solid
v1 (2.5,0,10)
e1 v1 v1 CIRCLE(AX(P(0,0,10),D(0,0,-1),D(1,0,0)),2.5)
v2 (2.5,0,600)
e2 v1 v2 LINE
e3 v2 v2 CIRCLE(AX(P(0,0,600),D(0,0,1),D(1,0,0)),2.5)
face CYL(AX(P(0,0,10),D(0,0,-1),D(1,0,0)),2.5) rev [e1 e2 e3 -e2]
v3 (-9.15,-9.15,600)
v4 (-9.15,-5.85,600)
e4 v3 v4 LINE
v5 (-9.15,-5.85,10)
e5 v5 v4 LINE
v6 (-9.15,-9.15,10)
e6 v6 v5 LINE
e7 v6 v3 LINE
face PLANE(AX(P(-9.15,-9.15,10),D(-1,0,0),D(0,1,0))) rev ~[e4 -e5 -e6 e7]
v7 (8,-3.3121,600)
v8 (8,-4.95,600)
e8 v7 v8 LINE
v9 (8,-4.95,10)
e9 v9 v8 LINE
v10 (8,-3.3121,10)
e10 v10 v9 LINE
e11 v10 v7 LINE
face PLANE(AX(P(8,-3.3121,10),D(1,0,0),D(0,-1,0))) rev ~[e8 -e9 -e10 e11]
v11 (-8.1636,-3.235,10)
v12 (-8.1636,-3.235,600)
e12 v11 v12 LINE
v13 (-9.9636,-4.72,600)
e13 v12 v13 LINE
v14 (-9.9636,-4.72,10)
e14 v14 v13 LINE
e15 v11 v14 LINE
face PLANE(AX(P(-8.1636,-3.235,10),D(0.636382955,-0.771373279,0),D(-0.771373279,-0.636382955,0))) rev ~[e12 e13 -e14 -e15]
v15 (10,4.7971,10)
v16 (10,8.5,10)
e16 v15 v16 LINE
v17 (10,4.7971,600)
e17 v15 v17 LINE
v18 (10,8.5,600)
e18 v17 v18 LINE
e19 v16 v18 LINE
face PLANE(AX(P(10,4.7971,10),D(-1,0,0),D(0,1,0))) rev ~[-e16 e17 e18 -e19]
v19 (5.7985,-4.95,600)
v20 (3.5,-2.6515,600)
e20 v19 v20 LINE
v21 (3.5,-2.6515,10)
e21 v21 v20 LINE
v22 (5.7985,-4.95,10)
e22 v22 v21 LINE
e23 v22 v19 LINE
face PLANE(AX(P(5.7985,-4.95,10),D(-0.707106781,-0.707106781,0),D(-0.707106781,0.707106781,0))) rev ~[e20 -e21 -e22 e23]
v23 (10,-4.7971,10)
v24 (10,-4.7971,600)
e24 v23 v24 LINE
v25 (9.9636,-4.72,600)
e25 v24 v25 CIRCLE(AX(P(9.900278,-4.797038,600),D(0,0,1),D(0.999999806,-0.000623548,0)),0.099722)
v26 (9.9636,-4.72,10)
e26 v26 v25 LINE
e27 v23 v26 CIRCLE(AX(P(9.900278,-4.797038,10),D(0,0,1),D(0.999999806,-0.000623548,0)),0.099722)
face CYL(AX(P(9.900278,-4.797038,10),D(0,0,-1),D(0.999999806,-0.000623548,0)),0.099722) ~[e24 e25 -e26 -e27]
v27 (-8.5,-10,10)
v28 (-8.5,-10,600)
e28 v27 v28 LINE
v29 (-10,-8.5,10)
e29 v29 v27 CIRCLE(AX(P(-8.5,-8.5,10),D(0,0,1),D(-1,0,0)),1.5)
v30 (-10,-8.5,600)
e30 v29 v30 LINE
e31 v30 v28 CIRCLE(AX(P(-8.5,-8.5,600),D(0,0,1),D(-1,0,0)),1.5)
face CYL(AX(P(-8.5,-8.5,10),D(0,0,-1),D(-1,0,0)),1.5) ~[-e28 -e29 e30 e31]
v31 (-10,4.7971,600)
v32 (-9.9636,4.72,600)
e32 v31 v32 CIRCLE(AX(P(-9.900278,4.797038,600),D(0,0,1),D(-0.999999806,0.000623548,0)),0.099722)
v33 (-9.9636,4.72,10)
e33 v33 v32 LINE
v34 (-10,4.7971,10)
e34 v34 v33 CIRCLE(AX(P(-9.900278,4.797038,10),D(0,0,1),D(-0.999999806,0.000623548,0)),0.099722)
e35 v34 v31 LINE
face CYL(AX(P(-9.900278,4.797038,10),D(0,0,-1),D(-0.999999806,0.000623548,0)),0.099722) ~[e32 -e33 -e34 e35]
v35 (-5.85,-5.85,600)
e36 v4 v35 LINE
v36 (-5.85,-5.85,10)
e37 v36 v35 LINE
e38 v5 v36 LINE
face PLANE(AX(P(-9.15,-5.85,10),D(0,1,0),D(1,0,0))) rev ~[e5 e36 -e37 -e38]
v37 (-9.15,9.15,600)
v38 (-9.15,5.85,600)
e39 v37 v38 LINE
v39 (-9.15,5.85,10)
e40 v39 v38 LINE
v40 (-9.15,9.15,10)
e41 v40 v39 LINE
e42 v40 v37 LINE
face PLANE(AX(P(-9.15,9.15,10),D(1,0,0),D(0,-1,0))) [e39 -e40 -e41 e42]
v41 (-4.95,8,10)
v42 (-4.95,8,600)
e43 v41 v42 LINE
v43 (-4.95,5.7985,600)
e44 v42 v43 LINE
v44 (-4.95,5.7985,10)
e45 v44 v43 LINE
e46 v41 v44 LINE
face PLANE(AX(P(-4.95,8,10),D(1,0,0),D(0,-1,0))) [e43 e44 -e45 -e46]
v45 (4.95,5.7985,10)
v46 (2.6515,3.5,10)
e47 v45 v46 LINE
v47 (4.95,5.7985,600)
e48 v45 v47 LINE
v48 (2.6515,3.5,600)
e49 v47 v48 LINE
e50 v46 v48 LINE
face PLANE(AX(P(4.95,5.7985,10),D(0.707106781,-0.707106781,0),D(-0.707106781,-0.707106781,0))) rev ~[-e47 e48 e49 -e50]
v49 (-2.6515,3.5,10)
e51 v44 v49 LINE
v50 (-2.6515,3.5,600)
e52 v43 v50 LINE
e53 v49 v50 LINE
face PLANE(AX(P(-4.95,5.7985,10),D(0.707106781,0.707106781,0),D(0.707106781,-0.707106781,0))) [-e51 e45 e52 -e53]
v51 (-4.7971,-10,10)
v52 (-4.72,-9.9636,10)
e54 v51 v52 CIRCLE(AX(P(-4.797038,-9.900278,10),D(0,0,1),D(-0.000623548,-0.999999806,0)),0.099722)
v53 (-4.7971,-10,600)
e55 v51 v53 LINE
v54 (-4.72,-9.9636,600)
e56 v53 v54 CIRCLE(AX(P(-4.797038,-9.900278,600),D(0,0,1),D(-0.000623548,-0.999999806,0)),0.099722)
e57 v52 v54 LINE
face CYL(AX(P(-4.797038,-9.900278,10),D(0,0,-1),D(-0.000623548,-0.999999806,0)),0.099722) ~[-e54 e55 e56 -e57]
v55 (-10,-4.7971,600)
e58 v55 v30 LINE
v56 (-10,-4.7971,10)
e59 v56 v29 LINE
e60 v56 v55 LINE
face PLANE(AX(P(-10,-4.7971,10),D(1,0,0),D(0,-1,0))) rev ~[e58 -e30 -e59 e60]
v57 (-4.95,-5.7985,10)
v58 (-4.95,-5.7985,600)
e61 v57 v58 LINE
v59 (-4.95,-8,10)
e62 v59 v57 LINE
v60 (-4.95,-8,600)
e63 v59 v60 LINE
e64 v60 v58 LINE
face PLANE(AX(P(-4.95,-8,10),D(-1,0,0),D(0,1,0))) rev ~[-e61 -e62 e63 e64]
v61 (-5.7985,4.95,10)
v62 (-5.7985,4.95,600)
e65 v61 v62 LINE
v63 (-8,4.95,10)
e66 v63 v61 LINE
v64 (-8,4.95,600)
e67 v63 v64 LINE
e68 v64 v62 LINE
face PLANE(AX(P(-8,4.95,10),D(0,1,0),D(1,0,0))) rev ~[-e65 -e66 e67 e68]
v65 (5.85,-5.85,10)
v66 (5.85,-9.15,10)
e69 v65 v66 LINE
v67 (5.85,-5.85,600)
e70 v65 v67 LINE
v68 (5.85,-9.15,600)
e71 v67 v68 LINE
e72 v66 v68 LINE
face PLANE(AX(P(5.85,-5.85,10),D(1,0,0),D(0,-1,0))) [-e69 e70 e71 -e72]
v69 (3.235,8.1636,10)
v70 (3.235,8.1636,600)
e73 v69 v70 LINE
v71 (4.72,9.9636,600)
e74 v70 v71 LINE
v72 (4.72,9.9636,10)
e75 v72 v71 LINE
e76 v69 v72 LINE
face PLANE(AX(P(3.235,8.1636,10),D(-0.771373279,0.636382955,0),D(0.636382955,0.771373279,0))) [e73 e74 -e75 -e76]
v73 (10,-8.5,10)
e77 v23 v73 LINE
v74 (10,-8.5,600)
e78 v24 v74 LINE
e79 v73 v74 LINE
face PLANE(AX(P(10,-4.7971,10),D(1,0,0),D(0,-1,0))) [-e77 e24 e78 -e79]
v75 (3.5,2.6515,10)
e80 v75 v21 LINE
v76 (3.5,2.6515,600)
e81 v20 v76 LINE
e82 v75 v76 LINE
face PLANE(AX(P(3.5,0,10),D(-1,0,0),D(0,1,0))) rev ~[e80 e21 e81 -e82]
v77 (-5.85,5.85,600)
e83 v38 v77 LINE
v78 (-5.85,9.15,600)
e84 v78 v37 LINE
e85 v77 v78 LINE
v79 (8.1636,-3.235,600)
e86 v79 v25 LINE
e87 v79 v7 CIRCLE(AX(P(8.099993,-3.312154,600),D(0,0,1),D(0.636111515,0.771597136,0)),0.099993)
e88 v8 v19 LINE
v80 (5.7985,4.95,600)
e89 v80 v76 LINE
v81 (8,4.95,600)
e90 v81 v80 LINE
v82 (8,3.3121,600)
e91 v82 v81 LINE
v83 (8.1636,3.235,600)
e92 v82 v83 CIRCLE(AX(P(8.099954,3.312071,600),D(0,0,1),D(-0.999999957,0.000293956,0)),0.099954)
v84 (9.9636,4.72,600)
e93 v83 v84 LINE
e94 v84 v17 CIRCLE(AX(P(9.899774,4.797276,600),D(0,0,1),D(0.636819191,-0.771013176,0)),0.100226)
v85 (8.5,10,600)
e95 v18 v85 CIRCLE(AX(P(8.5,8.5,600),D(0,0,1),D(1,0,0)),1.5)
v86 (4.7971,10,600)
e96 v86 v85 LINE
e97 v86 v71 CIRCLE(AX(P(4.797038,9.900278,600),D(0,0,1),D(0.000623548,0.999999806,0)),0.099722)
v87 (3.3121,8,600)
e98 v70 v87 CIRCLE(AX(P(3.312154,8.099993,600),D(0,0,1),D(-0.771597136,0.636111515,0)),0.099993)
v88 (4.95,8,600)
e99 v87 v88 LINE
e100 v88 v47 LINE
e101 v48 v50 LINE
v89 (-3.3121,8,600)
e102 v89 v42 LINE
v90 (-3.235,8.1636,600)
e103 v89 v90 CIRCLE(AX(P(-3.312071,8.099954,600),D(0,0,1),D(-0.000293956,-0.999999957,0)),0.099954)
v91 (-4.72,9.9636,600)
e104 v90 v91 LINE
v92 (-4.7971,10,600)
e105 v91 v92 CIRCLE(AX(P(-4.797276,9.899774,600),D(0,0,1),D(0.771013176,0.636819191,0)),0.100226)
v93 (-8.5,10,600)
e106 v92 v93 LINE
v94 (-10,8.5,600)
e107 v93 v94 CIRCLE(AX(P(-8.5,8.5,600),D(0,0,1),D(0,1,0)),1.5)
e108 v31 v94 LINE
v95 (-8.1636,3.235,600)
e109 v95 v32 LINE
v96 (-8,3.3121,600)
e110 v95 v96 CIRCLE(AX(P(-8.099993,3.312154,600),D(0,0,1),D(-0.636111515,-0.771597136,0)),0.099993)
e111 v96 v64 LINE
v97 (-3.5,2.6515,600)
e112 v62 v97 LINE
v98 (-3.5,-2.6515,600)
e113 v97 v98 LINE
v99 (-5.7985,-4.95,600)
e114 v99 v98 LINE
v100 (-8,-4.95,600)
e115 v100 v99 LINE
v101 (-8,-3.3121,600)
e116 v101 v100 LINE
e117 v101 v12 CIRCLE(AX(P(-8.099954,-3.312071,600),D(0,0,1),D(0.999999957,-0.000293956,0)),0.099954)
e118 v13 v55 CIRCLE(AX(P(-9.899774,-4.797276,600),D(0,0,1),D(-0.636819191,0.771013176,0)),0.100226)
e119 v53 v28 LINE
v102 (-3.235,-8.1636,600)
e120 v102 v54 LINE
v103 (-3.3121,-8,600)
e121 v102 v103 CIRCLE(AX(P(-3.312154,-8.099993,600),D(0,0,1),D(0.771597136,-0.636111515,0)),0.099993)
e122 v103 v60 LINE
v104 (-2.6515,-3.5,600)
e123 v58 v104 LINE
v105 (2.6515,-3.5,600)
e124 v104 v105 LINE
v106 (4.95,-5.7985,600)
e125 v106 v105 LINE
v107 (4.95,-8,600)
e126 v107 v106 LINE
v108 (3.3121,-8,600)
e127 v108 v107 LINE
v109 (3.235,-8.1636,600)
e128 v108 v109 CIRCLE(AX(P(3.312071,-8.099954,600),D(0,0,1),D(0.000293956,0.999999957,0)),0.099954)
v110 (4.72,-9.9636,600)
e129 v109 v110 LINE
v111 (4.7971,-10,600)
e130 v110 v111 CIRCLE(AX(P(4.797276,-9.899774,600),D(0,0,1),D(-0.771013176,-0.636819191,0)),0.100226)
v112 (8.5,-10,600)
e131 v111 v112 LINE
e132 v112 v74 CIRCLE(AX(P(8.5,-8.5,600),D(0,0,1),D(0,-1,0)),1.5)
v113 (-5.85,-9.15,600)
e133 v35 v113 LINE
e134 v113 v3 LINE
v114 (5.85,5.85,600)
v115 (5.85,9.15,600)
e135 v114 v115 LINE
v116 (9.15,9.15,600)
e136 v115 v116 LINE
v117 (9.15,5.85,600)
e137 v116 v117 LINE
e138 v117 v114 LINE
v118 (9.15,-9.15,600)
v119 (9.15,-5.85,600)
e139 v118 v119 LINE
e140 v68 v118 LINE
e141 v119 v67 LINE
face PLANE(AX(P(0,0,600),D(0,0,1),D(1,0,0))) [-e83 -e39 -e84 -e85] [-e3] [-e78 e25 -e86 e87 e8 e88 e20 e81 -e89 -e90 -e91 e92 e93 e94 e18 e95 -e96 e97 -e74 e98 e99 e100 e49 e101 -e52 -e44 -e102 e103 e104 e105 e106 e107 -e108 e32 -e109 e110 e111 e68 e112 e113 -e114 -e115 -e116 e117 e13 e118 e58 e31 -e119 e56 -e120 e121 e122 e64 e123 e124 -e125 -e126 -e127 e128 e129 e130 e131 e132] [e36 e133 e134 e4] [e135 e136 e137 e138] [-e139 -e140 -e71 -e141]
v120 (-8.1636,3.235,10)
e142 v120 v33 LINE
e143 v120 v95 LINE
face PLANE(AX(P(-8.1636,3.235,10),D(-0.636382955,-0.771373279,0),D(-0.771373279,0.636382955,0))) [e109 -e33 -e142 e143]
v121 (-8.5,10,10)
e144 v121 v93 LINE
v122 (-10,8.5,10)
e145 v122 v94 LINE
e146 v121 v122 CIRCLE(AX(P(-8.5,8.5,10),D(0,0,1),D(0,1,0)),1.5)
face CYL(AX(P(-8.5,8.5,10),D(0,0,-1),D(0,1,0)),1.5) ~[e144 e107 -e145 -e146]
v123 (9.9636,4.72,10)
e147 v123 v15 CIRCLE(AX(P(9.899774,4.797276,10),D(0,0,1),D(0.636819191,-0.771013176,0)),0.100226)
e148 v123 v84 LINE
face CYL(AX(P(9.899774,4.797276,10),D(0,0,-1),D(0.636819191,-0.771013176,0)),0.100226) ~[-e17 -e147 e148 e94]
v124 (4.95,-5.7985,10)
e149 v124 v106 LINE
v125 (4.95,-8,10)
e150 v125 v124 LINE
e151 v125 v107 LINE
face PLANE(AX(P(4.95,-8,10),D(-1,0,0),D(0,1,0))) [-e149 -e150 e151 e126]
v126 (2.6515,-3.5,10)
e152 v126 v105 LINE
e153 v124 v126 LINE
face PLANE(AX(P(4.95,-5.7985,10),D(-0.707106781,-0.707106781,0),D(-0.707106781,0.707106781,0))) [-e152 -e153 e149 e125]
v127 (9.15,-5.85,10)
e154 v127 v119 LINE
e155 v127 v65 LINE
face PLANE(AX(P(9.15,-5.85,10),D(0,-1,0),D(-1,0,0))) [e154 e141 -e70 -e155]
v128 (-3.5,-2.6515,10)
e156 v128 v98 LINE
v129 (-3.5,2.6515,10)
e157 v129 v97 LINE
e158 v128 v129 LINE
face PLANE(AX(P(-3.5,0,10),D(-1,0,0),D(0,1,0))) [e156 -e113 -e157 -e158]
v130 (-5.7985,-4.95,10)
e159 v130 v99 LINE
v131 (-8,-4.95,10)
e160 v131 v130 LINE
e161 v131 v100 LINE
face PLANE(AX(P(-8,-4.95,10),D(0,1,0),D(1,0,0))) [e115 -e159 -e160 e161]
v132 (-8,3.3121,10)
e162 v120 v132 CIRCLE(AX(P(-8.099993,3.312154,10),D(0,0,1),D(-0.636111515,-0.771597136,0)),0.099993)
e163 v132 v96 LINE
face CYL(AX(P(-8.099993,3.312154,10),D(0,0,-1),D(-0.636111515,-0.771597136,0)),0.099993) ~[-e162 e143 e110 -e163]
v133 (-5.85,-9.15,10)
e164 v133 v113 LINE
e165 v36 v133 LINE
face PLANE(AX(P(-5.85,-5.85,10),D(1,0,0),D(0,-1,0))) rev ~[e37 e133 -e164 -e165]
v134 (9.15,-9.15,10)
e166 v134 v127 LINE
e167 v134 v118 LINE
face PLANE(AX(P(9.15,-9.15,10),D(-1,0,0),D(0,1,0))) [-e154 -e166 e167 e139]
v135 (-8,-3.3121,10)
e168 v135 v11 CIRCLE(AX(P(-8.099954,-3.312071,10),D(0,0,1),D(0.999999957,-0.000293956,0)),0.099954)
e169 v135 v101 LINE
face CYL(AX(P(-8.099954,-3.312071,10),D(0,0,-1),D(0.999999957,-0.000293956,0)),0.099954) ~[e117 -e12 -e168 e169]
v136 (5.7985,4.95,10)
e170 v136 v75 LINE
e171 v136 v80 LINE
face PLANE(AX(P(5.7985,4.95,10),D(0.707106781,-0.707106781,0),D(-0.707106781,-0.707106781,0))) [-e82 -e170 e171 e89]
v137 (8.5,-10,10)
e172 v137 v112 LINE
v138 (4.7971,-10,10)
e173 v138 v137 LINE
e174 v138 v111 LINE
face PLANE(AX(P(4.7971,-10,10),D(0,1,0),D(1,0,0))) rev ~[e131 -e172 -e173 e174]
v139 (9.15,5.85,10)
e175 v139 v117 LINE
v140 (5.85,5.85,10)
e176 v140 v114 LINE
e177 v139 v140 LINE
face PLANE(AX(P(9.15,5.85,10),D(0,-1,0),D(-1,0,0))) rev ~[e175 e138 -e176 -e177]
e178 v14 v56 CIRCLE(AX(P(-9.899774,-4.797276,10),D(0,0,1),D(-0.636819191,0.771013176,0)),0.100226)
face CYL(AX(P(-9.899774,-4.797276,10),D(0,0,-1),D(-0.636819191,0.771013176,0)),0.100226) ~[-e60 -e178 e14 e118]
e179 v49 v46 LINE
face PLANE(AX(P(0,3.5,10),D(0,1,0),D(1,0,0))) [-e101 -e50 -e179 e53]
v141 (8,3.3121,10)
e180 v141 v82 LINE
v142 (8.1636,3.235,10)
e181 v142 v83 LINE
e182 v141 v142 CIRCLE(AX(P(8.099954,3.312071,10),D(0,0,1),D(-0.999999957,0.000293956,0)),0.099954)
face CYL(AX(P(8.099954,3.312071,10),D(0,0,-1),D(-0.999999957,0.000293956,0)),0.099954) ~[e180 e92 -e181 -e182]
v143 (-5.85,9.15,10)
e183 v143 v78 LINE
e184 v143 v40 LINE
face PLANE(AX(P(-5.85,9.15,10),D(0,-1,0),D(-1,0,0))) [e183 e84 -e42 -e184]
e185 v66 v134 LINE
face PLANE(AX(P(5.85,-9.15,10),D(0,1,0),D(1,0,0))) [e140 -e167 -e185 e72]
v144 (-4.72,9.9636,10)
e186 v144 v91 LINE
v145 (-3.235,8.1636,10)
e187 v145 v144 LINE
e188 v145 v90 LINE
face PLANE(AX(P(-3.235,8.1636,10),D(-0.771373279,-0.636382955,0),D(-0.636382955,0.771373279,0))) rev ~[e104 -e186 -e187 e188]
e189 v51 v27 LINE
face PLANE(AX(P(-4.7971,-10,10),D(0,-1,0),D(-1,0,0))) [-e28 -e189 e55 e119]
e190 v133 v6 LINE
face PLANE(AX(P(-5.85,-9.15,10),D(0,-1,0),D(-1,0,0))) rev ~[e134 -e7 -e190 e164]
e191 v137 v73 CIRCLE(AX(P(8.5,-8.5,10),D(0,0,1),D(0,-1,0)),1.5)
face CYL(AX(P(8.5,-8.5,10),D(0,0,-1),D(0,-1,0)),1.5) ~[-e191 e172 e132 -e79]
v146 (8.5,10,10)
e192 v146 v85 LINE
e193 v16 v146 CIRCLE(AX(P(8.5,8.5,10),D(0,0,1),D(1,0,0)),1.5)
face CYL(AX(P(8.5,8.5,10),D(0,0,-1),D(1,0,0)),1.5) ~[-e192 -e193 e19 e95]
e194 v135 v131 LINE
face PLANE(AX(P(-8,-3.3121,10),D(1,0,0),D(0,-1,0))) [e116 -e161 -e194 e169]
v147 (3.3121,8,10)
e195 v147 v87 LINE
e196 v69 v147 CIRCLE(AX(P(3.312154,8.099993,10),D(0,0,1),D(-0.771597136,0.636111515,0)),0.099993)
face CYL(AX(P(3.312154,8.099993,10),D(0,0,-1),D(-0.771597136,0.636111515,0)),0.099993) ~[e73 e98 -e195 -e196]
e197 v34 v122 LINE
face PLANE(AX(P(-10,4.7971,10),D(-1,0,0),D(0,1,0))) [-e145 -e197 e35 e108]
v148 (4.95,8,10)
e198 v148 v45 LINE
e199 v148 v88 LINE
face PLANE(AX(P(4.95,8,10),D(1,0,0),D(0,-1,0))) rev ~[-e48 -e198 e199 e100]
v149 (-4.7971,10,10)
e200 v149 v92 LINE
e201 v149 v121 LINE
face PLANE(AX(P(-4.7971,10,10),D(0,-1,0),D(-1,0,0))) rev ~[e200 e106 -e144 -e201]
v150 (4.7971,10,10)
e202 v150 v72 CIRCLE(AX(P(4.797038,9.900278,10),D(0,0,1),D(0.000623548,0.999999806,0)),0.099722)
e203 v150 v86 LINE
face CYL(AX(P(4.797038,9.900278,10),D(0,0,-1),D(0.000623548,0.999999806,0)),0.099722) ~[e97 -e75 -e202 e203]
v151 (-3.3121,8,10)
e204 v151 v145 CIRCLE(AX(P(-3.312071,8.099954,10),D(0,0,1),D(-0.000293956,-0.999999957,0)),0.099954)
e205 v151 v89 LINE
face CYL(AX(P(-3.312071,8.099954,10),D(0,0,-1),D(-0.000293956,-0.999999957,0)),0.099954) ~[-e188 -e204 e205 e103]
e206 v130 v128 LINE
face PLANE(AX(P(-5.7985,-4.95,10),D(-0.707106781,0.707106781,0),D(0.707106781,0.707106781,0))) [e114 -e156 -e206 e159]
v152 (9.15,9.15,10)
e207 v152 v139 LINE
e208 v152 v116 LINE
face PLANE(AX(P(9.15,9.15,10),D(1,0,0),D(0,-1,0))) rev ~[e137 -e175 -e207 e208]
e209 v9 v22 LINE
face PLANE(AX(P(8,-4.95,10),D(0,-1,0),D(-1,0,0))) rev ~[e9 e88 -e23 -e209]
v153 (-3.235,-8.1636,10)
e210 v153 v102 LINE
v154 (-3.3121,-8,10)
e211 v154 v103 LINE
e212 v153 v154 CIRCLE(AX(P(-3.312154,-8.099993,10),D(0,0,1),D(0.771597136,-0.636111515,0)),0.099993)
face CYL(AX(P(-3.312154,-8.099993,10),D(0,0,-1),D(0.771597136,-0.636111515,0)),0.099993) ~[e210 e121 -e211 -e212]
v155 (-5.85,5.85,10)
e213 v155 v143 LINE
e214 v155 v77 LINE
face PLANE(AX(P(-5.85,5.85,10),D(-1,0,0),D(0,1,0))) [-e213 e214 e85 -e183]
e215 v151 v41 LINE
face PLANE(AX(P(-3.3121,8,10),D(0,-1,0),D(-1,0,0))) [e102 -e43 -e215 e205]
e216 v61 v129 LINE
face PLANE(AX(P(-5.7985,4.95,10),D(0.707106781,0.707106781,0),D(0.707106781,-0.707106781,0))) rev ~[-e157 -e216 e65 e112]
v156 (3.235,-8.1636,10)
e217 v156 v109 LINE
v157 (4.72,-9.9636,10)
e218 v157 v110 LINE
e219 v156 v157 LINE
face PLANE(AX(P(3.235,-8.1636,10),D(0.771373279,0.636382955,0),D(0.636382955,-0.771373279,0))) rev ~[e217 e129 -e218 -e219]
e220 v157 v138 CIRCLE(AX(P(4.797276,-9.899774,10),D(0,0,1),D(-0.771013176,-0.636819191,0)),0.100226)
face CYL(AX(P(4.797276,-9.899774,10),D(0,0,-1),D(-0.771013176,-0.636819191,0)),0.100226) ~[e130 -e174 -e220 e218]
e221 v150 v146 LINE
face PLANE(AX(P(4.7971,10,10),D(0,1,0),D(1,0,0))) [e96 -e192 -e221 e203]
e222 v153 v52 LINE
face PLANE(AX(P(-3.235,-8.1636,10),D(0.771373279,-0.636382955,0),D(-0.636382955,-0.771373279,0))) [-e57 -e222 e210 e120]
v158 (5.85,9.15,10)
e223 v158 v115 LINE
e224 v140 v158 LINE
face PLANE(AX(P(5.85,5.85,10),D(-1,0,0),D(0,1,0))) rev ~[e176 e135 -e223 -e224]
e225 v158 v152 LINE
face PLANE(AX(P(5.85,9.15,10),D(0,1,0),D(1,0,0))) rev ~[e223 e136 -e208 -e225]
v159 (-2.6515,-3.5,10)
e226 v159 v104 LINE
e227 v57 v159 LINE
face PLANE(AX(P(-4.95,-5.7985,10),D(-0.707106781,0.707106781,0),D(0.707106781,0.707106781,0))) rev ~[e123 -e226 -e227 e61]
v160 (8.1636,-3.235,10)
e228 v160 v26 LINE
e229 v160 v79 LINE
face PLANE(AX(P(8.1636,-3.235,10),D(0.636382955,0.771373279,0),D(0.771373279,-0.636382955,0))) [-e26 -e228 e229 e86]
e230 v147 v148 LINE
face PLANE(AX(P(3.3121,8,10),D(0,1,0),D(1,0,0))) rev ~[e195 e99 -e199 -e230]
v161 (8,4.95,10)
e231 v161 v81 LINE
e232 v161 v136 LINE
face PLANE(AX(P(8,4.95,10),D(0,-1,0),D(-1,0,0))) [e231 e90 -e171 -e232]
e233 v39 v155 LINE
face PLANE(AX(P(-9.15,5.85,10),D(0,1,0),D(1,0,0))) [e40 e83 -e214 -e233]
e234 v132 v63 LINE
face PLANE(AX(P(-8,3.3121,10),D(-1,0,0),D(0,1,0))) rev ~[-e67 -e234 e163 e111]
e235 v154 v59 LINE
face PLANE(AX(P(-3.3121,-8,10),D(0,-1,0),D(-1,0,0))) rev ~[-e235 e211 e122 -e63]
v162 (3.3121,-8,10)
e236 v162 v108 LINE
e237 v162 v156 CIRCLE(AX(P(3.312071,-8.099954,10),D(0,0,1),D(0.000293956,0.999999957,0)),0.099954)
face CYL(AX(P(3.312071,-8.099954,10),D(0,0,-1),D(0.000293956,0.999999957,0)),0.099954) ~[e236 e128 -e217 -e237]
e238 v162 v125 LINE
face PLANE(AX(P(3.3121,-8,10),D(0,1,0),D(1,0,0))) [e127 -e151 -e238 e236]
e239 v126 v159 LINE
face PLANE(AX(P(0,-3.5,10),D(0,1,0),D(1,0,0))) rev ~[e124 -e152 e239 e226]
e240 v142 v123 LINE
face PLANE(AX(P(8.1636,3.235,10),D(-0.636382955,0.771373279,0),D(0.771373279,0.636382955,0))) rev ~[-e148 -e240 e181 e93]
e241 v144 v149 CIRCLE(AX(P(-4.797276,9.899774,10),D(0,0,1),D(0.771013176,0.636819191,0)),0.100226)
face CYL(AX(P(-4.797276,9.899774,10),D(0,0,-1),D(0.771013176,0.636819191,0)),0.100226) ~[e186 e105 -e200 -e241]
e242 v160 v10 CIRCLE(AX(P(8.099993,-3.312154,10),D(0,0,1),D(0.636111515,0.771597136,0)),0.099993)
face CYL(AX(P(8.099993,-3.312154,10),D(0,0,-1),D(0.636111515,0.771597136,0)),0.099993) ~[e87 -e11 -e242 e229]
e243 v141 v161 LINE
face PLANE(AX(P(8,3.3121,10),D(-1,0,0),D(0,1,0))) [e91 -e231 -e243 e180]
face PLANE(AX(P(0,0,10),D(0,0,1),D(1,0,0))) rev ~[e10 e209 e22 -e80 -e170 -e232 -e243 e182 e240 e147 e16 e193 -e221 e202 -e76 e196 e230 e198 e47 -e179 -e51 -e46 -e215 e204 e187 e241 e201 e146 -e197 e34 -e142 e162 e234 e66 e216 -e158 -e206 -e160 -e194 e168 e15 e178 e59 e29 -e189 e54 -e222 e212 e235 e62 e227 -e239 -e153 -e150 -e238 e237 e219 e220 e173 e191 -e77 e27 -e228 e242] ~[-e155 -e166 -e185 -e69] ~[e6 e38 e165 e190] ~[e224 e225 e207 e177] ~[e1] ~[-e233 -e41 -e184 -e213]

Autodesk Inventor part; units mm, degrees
ref_plane "Начальная плоскость" through (0, 0, 10) normal (0, 0, 1) x (1, 0, 0)
ref_plane "Конечная плоскость" through (0, 0, 600) normal (0, 0, 1) x (1, 0, 0)
sketch "Эскиз" plane through (0, 0, 0) normal (0, 0, 1) x (1, 0, 0)
  line L0 (-14.4349, 0) -> (14.4349, 0) projected
  line L1 (0, -14) -> (0, 14) projected
  line L2 (0, 0) -> (7.5, 7.5) construction
  circle A0 centre (7.5, 7.5) radius 1.65 construction
  line L3 (5.85, 9.15) -> (9.15, 9.15)
  line L4 (9.15, 9.15) -> (9.15, 5.85)
  line L5 (9.15, 5.85) -> (5.85, 5.85)
  line L6 (5.85, 5.85) -> (5.85, 9.15)
  line L7 (3.235, 8.1636) -> (4.72, 9.9636)
  line L8 (4.7971, 10) -> (8.5, 10)
  line L9 (3.3121, 8) -> (4.95, 8)
  line L10 (4.95, 8) -> (4.95, 5.7985)
  line L11 (4.95, 5.7985) -> (2.6515, 3.5)
  line L12 (0, 3.5) -> (2.6515, 3.5)
  circle A1 centre (0, 0) radius 2.5
  line L13 (8.1636, 3.235) -> (9.9636, 4.72)
  line L14 (10, 4.7971) -> (10, 8.5)
  line L15 (8, 3.3121) -> (8, 4.95)
  line L16 (8, 4.95) -> (5.7985, 4.95)
  line L17 (5.7985, 4.95) -> (3.5, 2.6515)
  line L18 (3.5, 0) -> (3.5, 2.6515)
  arc A2 (10, 8.5) -> (8.5, 10) centre (8.5, 8.5) ccw
  line L19 (0, 0) -> (-7.5, 7.5) construction
  circle A3 centre (-7.5, 7.5) radius 1.65 construction
  line L20 (-5.85, 9.15) -> (-9.15, 9.15)
  line L21 (-9.15, 9.15) -> (-9.15, 5.85)
  line L22 (-9.15, 5.85) -> (-5.85, 5.85)
  line L23 (-5.85, 5.85) -> (-5.85, 9.15)
  line L24 (-3.235, 8.1636) -> (-4.72, 9.9636)
  line L25 (-4.7971, 10) -> (-8.5, 10)
  line L26 (-3.3121, 8) -> (-4.95, 8)
  line L27 (-4.95, 8) -> (-4.95, 5.7985)
  line L28 (-4.95, 5.7985) -> (-2.6515, 3.5)
  line L29 (0, 3.5) -> (-2.6515, 3.5)
  line L30 (-3.5, 0) -> (-3.5, 2.6515)
  line L31 (-5.7985, 4.95) -> (-3.5, 2.6515)
  line L32 (-8, 4.95) -> (-5.7985, 4.95)
  line L33 (-8, 3.3121) -> (-8, 4.95)
  line L34 (-8.1636, 3.235) -> (-9.9636, 4.72)
  line L35 (-10, 4.7971) -> (-10, 8.5)
  arc A4 (-8.5, 10) -> (-10, 8.5) centre (-8.5, 8.5) ccw
  line L36 (0, 14) -> (0, -14)
  line L37 (0, 0) -> (7.5, -7.5) construction
  circle A5 centre (7.5, -7.5) radius 1.65 construction
  line L38 (5.85, -9.15) -> (9.15, -9.15)
  line L39 (9.15, -9.15) -> (9.15, -5.85)
  line L40 (9.15, -5.85) -> (5.85, -5.85)
  line L41 (5.85, -5.85) -> (5.85, -9.15)
  line L42 (3.235, -8.1636) -> (4.72, -9.9636)
  line L43 (4.7971, -10) -> (8.5, -10)
  line L44 (3.3121, -8) -> (4.95, -8)
  line L45 (4.95, -8) -> (4.95, -5.7985)
  line L46 (4.95, -5.7985) -> (2.6515, -3.5)
  line L47 (0, -3.5) -> (2.6515, -3.5)
  line L48 (3.5, 0) -> (3.5, -2.6515)
  line L49 (5.7985, -4.95) -> (3.5, -2.6515)
  line L50 (8, -4.95) -> (5.7985, -4.95)
  line L51 (8, -3.3121) -> (8, -4.95)
  line L52 (8.1636, -3.235) -> (9.9636, -4.72)
  line L53 (10, -4.7971) -> (10, -8.5)
  arc A6 (8.5, -10) -> (10, -8.5) centre (8.5, -8.5) ccw
  line L54 (0, 0) -> (-7.5, -7.5) construction
  line L55 (-4.95, -8) -> (-4.95, -5.7985)
  line L56 (-3.3121, -8) -> (-4.95, -8)
  line L57 (-5.7985, -4.95) -> (-3.5, -2.6515)
  line L58 (-4.95, -5.7985) -> (-2.6515, -3.5)
  line L59 (-3.5, 0) -> (-3.5, -2.6515)
  line L60 (0, -3.5) -> (-2.6515, -3.5)
  circle A7 centre (-7.5, -7.5) radius 1.65 construction
  line L61 (-5.85, -5.85) -> (-5.85, -9.15)
  line L62 (-5.85, -9.15) -> (-9.15, -9.15)
  line L63 (-9.15, -9.15) -> (-9.15, -5.85)
  line L64 (-9.15, -5.85) -> (-5.85, -5.85)
  line L65 (-3.235, -8.1636) -> (-4.72, -9.9636)
  line L66 (-8, -4.95) -> (-5.7985, -4.95)
  line L67 (-8, -3.3121) -> (-8, -4.95)
  line L68 (-8.1636, -3.235) -> (-9.9636, -4.72)
  line L69 (-4.7971, -10) -> (-8.5, -10)
  line L70 (-10, -4.7971) -> (-10, -8.5)
  arc A8 (-10, -8.5) -> (-8.5, -10) centre (-8.5, -8.5) ccw
  arc A9 (3.235, 8.1636) -> (3.3121, 8) centre (3.3121, 8.1) ccw
  arc A10 (4.7971, 10) -> (4.72, 9.9636) centre (4.7971, 9.9) ccw
  arc A11 (8, 3.3121) -> (8.1636, 3.235) centre (8.1, 3.3121) ccw
  arc A12 (9.9636, 4.72) -> (10, 4.7971) centre (9.9, 4.7971) ccw
  arc A13 (-3.3121, 8) -> (-3.235, 8.1636) centre (-3.3121, 8.1) ccw
  arc A14 (-4.72, 9.9636) -> (-4.7971, 10) centre (-4.7971, 9.9) ccw
  arc A15 (-8.1636, 3.235) -> (-8, 3.3121) centre (-8.1, 3.3121) ccw
  arc A16 (-10, 4.7971) -> (-9.9636, 4.72) centre (-9.9, 4.7971) ccw
  arc A17 (-8, -3.3121) -> (-8.1636, -3.235) centre (-8.1, -3.3121) ccw
  arc A18 (-9.9636, -4.72) -> (-10, -4.7971) centre (-9.9, -4.7971) ccw
  arc A19 (-3.235, -8.1636) -> (-3.3121, -8) centre (-3.3121, -8.1) ccw
  arc A20 (-4.7971, -10) -> (-4.72, -9.9636) centre (-4.7971, -9.9) ccw
  arc A21 (4.72, -9.9636) -> (4.7971, -10) centre (4.7971, -9.9) ccw
  arc A22 (3.3121, -8) -> (3.235, -8.1636) centre (3.3121, -8.1) ccw
  arc A23 (8.1636, -3.235) -> (8, -3.3121) centre (8.1, -3.3121) ccw
  arc A24 (10, -4.7971) -> (9.9636, -4.72) centre (9.9, -4.7971) ccw
  point P0 (3.1, 8)
  point P1 (4.75, 10)
  point P2 (7.5, 9.15)
  point P3 (8, 3.1)
  point P4 (10, 4.75)
  point P5 (7.5, 5.85)
  point P6 (9.15, 7.5)
  point P7 (-3.1, 8)
  point P8 (-4.75, 10)
  point P9 (-7.5, 9.15)
  point P10 (-8, 3.1)
  point P11 (-10, 4.75)
  point P12 (-7.5, 5.85)
  point P13 (-9.15, 7.5)
  point P14 (3.1, -8)
  point P15 (4.75, -10)
  point P16 (7.5, -9.15)
  point P17 (8, -3.1)
  point P18 (10, -4.75)
  point P19 (7.5, -5.85)
  point P20 (9.15, -7.5)
  point P21 (-3.1, -8)
  point P22 (-7.5, -5.85)
  point P23 (-7.5, -9.15)
  point P24 (-9.15, -7.5)
  point P25 (-4.75, -10)
  point P26 (-8, -3.1)
  point P27 (-10, -4.75)
  dimension "d0" = 45
  dimension "d1" = 3.3
  dimension "d2" = 1.5
  dimension "d3" = 1.2
  dimension "d4" = 5
  dimension "d5" = 6.5
  dimension "d6" = 15
  dimension "d7" = 20
  dimension "d8" = 9.9
  dimension "d9" = 9.5
  dimension "d10" = 6.2
  dimension "d11" = 2
  dimension "d18" = 0.1
  dimension "d19" = 0.1
extrude "Тело" add sketch "Эскиз" along normal up to surface (590 mm away) from surface at 10 contours A1 L1 L12 L11 L10 L9 A9 L7 A10 L8 A2 L14 A12 L13 A11 L15 L16 L17 L18 L0 | L0 L48 L49 L50 L51 A23 L52 A24 L53 A6 L43 A21 L42 A22 L44 L45 L46 L47 L1 A1 | A1 L0 L30 L31 L32 L33 A15 L34 A16 L35 A4 L25 A14 L24 A13 L26 L27 L28 L29 L1 | L1 L60 L58 L55 L56 A19 L65 A20 L69 A8 L70 A18 L68 A17 L67 L66 L57 L59 L0 A1
sketch "Эскиз2" plane through (0, 0, 0) normal (0, 0, 1) x (1, 0, 0)
  line L0 (0, 0) -> (10, 0)
ref_plane "РабПлоскость3" through (0, 0, 0) normal (0, -1, 0) x (1, 0, 0)
sketch "Эскиз3" plane through (0, 0, 0) normal (0, -1, 0) x (1, 0, 0)
  line L0 (-2, 10) -> (12, 10)
  line L1 (-2, 600) -> (12, 600)
  dimension "d25" = 590
ref_plane "РабПлоскость4" through (0, 0, 10) normal (0, 0, -1) x (-1, 0, 0)
split "Разделение1" plane through (0, 0, 10) removes the side toward (0, 0, -1)
ref_plane "РабПлоскость5" through (0, -50, -10) normal (0, 0, -1) x (-1, 0, 0)
split "Разделение2" plane through (0, -50, -10) removes the side toward (0, 0, -1)
equation "\"G_OFFSET_END\" = 0"
properties part number "короткая палка"
